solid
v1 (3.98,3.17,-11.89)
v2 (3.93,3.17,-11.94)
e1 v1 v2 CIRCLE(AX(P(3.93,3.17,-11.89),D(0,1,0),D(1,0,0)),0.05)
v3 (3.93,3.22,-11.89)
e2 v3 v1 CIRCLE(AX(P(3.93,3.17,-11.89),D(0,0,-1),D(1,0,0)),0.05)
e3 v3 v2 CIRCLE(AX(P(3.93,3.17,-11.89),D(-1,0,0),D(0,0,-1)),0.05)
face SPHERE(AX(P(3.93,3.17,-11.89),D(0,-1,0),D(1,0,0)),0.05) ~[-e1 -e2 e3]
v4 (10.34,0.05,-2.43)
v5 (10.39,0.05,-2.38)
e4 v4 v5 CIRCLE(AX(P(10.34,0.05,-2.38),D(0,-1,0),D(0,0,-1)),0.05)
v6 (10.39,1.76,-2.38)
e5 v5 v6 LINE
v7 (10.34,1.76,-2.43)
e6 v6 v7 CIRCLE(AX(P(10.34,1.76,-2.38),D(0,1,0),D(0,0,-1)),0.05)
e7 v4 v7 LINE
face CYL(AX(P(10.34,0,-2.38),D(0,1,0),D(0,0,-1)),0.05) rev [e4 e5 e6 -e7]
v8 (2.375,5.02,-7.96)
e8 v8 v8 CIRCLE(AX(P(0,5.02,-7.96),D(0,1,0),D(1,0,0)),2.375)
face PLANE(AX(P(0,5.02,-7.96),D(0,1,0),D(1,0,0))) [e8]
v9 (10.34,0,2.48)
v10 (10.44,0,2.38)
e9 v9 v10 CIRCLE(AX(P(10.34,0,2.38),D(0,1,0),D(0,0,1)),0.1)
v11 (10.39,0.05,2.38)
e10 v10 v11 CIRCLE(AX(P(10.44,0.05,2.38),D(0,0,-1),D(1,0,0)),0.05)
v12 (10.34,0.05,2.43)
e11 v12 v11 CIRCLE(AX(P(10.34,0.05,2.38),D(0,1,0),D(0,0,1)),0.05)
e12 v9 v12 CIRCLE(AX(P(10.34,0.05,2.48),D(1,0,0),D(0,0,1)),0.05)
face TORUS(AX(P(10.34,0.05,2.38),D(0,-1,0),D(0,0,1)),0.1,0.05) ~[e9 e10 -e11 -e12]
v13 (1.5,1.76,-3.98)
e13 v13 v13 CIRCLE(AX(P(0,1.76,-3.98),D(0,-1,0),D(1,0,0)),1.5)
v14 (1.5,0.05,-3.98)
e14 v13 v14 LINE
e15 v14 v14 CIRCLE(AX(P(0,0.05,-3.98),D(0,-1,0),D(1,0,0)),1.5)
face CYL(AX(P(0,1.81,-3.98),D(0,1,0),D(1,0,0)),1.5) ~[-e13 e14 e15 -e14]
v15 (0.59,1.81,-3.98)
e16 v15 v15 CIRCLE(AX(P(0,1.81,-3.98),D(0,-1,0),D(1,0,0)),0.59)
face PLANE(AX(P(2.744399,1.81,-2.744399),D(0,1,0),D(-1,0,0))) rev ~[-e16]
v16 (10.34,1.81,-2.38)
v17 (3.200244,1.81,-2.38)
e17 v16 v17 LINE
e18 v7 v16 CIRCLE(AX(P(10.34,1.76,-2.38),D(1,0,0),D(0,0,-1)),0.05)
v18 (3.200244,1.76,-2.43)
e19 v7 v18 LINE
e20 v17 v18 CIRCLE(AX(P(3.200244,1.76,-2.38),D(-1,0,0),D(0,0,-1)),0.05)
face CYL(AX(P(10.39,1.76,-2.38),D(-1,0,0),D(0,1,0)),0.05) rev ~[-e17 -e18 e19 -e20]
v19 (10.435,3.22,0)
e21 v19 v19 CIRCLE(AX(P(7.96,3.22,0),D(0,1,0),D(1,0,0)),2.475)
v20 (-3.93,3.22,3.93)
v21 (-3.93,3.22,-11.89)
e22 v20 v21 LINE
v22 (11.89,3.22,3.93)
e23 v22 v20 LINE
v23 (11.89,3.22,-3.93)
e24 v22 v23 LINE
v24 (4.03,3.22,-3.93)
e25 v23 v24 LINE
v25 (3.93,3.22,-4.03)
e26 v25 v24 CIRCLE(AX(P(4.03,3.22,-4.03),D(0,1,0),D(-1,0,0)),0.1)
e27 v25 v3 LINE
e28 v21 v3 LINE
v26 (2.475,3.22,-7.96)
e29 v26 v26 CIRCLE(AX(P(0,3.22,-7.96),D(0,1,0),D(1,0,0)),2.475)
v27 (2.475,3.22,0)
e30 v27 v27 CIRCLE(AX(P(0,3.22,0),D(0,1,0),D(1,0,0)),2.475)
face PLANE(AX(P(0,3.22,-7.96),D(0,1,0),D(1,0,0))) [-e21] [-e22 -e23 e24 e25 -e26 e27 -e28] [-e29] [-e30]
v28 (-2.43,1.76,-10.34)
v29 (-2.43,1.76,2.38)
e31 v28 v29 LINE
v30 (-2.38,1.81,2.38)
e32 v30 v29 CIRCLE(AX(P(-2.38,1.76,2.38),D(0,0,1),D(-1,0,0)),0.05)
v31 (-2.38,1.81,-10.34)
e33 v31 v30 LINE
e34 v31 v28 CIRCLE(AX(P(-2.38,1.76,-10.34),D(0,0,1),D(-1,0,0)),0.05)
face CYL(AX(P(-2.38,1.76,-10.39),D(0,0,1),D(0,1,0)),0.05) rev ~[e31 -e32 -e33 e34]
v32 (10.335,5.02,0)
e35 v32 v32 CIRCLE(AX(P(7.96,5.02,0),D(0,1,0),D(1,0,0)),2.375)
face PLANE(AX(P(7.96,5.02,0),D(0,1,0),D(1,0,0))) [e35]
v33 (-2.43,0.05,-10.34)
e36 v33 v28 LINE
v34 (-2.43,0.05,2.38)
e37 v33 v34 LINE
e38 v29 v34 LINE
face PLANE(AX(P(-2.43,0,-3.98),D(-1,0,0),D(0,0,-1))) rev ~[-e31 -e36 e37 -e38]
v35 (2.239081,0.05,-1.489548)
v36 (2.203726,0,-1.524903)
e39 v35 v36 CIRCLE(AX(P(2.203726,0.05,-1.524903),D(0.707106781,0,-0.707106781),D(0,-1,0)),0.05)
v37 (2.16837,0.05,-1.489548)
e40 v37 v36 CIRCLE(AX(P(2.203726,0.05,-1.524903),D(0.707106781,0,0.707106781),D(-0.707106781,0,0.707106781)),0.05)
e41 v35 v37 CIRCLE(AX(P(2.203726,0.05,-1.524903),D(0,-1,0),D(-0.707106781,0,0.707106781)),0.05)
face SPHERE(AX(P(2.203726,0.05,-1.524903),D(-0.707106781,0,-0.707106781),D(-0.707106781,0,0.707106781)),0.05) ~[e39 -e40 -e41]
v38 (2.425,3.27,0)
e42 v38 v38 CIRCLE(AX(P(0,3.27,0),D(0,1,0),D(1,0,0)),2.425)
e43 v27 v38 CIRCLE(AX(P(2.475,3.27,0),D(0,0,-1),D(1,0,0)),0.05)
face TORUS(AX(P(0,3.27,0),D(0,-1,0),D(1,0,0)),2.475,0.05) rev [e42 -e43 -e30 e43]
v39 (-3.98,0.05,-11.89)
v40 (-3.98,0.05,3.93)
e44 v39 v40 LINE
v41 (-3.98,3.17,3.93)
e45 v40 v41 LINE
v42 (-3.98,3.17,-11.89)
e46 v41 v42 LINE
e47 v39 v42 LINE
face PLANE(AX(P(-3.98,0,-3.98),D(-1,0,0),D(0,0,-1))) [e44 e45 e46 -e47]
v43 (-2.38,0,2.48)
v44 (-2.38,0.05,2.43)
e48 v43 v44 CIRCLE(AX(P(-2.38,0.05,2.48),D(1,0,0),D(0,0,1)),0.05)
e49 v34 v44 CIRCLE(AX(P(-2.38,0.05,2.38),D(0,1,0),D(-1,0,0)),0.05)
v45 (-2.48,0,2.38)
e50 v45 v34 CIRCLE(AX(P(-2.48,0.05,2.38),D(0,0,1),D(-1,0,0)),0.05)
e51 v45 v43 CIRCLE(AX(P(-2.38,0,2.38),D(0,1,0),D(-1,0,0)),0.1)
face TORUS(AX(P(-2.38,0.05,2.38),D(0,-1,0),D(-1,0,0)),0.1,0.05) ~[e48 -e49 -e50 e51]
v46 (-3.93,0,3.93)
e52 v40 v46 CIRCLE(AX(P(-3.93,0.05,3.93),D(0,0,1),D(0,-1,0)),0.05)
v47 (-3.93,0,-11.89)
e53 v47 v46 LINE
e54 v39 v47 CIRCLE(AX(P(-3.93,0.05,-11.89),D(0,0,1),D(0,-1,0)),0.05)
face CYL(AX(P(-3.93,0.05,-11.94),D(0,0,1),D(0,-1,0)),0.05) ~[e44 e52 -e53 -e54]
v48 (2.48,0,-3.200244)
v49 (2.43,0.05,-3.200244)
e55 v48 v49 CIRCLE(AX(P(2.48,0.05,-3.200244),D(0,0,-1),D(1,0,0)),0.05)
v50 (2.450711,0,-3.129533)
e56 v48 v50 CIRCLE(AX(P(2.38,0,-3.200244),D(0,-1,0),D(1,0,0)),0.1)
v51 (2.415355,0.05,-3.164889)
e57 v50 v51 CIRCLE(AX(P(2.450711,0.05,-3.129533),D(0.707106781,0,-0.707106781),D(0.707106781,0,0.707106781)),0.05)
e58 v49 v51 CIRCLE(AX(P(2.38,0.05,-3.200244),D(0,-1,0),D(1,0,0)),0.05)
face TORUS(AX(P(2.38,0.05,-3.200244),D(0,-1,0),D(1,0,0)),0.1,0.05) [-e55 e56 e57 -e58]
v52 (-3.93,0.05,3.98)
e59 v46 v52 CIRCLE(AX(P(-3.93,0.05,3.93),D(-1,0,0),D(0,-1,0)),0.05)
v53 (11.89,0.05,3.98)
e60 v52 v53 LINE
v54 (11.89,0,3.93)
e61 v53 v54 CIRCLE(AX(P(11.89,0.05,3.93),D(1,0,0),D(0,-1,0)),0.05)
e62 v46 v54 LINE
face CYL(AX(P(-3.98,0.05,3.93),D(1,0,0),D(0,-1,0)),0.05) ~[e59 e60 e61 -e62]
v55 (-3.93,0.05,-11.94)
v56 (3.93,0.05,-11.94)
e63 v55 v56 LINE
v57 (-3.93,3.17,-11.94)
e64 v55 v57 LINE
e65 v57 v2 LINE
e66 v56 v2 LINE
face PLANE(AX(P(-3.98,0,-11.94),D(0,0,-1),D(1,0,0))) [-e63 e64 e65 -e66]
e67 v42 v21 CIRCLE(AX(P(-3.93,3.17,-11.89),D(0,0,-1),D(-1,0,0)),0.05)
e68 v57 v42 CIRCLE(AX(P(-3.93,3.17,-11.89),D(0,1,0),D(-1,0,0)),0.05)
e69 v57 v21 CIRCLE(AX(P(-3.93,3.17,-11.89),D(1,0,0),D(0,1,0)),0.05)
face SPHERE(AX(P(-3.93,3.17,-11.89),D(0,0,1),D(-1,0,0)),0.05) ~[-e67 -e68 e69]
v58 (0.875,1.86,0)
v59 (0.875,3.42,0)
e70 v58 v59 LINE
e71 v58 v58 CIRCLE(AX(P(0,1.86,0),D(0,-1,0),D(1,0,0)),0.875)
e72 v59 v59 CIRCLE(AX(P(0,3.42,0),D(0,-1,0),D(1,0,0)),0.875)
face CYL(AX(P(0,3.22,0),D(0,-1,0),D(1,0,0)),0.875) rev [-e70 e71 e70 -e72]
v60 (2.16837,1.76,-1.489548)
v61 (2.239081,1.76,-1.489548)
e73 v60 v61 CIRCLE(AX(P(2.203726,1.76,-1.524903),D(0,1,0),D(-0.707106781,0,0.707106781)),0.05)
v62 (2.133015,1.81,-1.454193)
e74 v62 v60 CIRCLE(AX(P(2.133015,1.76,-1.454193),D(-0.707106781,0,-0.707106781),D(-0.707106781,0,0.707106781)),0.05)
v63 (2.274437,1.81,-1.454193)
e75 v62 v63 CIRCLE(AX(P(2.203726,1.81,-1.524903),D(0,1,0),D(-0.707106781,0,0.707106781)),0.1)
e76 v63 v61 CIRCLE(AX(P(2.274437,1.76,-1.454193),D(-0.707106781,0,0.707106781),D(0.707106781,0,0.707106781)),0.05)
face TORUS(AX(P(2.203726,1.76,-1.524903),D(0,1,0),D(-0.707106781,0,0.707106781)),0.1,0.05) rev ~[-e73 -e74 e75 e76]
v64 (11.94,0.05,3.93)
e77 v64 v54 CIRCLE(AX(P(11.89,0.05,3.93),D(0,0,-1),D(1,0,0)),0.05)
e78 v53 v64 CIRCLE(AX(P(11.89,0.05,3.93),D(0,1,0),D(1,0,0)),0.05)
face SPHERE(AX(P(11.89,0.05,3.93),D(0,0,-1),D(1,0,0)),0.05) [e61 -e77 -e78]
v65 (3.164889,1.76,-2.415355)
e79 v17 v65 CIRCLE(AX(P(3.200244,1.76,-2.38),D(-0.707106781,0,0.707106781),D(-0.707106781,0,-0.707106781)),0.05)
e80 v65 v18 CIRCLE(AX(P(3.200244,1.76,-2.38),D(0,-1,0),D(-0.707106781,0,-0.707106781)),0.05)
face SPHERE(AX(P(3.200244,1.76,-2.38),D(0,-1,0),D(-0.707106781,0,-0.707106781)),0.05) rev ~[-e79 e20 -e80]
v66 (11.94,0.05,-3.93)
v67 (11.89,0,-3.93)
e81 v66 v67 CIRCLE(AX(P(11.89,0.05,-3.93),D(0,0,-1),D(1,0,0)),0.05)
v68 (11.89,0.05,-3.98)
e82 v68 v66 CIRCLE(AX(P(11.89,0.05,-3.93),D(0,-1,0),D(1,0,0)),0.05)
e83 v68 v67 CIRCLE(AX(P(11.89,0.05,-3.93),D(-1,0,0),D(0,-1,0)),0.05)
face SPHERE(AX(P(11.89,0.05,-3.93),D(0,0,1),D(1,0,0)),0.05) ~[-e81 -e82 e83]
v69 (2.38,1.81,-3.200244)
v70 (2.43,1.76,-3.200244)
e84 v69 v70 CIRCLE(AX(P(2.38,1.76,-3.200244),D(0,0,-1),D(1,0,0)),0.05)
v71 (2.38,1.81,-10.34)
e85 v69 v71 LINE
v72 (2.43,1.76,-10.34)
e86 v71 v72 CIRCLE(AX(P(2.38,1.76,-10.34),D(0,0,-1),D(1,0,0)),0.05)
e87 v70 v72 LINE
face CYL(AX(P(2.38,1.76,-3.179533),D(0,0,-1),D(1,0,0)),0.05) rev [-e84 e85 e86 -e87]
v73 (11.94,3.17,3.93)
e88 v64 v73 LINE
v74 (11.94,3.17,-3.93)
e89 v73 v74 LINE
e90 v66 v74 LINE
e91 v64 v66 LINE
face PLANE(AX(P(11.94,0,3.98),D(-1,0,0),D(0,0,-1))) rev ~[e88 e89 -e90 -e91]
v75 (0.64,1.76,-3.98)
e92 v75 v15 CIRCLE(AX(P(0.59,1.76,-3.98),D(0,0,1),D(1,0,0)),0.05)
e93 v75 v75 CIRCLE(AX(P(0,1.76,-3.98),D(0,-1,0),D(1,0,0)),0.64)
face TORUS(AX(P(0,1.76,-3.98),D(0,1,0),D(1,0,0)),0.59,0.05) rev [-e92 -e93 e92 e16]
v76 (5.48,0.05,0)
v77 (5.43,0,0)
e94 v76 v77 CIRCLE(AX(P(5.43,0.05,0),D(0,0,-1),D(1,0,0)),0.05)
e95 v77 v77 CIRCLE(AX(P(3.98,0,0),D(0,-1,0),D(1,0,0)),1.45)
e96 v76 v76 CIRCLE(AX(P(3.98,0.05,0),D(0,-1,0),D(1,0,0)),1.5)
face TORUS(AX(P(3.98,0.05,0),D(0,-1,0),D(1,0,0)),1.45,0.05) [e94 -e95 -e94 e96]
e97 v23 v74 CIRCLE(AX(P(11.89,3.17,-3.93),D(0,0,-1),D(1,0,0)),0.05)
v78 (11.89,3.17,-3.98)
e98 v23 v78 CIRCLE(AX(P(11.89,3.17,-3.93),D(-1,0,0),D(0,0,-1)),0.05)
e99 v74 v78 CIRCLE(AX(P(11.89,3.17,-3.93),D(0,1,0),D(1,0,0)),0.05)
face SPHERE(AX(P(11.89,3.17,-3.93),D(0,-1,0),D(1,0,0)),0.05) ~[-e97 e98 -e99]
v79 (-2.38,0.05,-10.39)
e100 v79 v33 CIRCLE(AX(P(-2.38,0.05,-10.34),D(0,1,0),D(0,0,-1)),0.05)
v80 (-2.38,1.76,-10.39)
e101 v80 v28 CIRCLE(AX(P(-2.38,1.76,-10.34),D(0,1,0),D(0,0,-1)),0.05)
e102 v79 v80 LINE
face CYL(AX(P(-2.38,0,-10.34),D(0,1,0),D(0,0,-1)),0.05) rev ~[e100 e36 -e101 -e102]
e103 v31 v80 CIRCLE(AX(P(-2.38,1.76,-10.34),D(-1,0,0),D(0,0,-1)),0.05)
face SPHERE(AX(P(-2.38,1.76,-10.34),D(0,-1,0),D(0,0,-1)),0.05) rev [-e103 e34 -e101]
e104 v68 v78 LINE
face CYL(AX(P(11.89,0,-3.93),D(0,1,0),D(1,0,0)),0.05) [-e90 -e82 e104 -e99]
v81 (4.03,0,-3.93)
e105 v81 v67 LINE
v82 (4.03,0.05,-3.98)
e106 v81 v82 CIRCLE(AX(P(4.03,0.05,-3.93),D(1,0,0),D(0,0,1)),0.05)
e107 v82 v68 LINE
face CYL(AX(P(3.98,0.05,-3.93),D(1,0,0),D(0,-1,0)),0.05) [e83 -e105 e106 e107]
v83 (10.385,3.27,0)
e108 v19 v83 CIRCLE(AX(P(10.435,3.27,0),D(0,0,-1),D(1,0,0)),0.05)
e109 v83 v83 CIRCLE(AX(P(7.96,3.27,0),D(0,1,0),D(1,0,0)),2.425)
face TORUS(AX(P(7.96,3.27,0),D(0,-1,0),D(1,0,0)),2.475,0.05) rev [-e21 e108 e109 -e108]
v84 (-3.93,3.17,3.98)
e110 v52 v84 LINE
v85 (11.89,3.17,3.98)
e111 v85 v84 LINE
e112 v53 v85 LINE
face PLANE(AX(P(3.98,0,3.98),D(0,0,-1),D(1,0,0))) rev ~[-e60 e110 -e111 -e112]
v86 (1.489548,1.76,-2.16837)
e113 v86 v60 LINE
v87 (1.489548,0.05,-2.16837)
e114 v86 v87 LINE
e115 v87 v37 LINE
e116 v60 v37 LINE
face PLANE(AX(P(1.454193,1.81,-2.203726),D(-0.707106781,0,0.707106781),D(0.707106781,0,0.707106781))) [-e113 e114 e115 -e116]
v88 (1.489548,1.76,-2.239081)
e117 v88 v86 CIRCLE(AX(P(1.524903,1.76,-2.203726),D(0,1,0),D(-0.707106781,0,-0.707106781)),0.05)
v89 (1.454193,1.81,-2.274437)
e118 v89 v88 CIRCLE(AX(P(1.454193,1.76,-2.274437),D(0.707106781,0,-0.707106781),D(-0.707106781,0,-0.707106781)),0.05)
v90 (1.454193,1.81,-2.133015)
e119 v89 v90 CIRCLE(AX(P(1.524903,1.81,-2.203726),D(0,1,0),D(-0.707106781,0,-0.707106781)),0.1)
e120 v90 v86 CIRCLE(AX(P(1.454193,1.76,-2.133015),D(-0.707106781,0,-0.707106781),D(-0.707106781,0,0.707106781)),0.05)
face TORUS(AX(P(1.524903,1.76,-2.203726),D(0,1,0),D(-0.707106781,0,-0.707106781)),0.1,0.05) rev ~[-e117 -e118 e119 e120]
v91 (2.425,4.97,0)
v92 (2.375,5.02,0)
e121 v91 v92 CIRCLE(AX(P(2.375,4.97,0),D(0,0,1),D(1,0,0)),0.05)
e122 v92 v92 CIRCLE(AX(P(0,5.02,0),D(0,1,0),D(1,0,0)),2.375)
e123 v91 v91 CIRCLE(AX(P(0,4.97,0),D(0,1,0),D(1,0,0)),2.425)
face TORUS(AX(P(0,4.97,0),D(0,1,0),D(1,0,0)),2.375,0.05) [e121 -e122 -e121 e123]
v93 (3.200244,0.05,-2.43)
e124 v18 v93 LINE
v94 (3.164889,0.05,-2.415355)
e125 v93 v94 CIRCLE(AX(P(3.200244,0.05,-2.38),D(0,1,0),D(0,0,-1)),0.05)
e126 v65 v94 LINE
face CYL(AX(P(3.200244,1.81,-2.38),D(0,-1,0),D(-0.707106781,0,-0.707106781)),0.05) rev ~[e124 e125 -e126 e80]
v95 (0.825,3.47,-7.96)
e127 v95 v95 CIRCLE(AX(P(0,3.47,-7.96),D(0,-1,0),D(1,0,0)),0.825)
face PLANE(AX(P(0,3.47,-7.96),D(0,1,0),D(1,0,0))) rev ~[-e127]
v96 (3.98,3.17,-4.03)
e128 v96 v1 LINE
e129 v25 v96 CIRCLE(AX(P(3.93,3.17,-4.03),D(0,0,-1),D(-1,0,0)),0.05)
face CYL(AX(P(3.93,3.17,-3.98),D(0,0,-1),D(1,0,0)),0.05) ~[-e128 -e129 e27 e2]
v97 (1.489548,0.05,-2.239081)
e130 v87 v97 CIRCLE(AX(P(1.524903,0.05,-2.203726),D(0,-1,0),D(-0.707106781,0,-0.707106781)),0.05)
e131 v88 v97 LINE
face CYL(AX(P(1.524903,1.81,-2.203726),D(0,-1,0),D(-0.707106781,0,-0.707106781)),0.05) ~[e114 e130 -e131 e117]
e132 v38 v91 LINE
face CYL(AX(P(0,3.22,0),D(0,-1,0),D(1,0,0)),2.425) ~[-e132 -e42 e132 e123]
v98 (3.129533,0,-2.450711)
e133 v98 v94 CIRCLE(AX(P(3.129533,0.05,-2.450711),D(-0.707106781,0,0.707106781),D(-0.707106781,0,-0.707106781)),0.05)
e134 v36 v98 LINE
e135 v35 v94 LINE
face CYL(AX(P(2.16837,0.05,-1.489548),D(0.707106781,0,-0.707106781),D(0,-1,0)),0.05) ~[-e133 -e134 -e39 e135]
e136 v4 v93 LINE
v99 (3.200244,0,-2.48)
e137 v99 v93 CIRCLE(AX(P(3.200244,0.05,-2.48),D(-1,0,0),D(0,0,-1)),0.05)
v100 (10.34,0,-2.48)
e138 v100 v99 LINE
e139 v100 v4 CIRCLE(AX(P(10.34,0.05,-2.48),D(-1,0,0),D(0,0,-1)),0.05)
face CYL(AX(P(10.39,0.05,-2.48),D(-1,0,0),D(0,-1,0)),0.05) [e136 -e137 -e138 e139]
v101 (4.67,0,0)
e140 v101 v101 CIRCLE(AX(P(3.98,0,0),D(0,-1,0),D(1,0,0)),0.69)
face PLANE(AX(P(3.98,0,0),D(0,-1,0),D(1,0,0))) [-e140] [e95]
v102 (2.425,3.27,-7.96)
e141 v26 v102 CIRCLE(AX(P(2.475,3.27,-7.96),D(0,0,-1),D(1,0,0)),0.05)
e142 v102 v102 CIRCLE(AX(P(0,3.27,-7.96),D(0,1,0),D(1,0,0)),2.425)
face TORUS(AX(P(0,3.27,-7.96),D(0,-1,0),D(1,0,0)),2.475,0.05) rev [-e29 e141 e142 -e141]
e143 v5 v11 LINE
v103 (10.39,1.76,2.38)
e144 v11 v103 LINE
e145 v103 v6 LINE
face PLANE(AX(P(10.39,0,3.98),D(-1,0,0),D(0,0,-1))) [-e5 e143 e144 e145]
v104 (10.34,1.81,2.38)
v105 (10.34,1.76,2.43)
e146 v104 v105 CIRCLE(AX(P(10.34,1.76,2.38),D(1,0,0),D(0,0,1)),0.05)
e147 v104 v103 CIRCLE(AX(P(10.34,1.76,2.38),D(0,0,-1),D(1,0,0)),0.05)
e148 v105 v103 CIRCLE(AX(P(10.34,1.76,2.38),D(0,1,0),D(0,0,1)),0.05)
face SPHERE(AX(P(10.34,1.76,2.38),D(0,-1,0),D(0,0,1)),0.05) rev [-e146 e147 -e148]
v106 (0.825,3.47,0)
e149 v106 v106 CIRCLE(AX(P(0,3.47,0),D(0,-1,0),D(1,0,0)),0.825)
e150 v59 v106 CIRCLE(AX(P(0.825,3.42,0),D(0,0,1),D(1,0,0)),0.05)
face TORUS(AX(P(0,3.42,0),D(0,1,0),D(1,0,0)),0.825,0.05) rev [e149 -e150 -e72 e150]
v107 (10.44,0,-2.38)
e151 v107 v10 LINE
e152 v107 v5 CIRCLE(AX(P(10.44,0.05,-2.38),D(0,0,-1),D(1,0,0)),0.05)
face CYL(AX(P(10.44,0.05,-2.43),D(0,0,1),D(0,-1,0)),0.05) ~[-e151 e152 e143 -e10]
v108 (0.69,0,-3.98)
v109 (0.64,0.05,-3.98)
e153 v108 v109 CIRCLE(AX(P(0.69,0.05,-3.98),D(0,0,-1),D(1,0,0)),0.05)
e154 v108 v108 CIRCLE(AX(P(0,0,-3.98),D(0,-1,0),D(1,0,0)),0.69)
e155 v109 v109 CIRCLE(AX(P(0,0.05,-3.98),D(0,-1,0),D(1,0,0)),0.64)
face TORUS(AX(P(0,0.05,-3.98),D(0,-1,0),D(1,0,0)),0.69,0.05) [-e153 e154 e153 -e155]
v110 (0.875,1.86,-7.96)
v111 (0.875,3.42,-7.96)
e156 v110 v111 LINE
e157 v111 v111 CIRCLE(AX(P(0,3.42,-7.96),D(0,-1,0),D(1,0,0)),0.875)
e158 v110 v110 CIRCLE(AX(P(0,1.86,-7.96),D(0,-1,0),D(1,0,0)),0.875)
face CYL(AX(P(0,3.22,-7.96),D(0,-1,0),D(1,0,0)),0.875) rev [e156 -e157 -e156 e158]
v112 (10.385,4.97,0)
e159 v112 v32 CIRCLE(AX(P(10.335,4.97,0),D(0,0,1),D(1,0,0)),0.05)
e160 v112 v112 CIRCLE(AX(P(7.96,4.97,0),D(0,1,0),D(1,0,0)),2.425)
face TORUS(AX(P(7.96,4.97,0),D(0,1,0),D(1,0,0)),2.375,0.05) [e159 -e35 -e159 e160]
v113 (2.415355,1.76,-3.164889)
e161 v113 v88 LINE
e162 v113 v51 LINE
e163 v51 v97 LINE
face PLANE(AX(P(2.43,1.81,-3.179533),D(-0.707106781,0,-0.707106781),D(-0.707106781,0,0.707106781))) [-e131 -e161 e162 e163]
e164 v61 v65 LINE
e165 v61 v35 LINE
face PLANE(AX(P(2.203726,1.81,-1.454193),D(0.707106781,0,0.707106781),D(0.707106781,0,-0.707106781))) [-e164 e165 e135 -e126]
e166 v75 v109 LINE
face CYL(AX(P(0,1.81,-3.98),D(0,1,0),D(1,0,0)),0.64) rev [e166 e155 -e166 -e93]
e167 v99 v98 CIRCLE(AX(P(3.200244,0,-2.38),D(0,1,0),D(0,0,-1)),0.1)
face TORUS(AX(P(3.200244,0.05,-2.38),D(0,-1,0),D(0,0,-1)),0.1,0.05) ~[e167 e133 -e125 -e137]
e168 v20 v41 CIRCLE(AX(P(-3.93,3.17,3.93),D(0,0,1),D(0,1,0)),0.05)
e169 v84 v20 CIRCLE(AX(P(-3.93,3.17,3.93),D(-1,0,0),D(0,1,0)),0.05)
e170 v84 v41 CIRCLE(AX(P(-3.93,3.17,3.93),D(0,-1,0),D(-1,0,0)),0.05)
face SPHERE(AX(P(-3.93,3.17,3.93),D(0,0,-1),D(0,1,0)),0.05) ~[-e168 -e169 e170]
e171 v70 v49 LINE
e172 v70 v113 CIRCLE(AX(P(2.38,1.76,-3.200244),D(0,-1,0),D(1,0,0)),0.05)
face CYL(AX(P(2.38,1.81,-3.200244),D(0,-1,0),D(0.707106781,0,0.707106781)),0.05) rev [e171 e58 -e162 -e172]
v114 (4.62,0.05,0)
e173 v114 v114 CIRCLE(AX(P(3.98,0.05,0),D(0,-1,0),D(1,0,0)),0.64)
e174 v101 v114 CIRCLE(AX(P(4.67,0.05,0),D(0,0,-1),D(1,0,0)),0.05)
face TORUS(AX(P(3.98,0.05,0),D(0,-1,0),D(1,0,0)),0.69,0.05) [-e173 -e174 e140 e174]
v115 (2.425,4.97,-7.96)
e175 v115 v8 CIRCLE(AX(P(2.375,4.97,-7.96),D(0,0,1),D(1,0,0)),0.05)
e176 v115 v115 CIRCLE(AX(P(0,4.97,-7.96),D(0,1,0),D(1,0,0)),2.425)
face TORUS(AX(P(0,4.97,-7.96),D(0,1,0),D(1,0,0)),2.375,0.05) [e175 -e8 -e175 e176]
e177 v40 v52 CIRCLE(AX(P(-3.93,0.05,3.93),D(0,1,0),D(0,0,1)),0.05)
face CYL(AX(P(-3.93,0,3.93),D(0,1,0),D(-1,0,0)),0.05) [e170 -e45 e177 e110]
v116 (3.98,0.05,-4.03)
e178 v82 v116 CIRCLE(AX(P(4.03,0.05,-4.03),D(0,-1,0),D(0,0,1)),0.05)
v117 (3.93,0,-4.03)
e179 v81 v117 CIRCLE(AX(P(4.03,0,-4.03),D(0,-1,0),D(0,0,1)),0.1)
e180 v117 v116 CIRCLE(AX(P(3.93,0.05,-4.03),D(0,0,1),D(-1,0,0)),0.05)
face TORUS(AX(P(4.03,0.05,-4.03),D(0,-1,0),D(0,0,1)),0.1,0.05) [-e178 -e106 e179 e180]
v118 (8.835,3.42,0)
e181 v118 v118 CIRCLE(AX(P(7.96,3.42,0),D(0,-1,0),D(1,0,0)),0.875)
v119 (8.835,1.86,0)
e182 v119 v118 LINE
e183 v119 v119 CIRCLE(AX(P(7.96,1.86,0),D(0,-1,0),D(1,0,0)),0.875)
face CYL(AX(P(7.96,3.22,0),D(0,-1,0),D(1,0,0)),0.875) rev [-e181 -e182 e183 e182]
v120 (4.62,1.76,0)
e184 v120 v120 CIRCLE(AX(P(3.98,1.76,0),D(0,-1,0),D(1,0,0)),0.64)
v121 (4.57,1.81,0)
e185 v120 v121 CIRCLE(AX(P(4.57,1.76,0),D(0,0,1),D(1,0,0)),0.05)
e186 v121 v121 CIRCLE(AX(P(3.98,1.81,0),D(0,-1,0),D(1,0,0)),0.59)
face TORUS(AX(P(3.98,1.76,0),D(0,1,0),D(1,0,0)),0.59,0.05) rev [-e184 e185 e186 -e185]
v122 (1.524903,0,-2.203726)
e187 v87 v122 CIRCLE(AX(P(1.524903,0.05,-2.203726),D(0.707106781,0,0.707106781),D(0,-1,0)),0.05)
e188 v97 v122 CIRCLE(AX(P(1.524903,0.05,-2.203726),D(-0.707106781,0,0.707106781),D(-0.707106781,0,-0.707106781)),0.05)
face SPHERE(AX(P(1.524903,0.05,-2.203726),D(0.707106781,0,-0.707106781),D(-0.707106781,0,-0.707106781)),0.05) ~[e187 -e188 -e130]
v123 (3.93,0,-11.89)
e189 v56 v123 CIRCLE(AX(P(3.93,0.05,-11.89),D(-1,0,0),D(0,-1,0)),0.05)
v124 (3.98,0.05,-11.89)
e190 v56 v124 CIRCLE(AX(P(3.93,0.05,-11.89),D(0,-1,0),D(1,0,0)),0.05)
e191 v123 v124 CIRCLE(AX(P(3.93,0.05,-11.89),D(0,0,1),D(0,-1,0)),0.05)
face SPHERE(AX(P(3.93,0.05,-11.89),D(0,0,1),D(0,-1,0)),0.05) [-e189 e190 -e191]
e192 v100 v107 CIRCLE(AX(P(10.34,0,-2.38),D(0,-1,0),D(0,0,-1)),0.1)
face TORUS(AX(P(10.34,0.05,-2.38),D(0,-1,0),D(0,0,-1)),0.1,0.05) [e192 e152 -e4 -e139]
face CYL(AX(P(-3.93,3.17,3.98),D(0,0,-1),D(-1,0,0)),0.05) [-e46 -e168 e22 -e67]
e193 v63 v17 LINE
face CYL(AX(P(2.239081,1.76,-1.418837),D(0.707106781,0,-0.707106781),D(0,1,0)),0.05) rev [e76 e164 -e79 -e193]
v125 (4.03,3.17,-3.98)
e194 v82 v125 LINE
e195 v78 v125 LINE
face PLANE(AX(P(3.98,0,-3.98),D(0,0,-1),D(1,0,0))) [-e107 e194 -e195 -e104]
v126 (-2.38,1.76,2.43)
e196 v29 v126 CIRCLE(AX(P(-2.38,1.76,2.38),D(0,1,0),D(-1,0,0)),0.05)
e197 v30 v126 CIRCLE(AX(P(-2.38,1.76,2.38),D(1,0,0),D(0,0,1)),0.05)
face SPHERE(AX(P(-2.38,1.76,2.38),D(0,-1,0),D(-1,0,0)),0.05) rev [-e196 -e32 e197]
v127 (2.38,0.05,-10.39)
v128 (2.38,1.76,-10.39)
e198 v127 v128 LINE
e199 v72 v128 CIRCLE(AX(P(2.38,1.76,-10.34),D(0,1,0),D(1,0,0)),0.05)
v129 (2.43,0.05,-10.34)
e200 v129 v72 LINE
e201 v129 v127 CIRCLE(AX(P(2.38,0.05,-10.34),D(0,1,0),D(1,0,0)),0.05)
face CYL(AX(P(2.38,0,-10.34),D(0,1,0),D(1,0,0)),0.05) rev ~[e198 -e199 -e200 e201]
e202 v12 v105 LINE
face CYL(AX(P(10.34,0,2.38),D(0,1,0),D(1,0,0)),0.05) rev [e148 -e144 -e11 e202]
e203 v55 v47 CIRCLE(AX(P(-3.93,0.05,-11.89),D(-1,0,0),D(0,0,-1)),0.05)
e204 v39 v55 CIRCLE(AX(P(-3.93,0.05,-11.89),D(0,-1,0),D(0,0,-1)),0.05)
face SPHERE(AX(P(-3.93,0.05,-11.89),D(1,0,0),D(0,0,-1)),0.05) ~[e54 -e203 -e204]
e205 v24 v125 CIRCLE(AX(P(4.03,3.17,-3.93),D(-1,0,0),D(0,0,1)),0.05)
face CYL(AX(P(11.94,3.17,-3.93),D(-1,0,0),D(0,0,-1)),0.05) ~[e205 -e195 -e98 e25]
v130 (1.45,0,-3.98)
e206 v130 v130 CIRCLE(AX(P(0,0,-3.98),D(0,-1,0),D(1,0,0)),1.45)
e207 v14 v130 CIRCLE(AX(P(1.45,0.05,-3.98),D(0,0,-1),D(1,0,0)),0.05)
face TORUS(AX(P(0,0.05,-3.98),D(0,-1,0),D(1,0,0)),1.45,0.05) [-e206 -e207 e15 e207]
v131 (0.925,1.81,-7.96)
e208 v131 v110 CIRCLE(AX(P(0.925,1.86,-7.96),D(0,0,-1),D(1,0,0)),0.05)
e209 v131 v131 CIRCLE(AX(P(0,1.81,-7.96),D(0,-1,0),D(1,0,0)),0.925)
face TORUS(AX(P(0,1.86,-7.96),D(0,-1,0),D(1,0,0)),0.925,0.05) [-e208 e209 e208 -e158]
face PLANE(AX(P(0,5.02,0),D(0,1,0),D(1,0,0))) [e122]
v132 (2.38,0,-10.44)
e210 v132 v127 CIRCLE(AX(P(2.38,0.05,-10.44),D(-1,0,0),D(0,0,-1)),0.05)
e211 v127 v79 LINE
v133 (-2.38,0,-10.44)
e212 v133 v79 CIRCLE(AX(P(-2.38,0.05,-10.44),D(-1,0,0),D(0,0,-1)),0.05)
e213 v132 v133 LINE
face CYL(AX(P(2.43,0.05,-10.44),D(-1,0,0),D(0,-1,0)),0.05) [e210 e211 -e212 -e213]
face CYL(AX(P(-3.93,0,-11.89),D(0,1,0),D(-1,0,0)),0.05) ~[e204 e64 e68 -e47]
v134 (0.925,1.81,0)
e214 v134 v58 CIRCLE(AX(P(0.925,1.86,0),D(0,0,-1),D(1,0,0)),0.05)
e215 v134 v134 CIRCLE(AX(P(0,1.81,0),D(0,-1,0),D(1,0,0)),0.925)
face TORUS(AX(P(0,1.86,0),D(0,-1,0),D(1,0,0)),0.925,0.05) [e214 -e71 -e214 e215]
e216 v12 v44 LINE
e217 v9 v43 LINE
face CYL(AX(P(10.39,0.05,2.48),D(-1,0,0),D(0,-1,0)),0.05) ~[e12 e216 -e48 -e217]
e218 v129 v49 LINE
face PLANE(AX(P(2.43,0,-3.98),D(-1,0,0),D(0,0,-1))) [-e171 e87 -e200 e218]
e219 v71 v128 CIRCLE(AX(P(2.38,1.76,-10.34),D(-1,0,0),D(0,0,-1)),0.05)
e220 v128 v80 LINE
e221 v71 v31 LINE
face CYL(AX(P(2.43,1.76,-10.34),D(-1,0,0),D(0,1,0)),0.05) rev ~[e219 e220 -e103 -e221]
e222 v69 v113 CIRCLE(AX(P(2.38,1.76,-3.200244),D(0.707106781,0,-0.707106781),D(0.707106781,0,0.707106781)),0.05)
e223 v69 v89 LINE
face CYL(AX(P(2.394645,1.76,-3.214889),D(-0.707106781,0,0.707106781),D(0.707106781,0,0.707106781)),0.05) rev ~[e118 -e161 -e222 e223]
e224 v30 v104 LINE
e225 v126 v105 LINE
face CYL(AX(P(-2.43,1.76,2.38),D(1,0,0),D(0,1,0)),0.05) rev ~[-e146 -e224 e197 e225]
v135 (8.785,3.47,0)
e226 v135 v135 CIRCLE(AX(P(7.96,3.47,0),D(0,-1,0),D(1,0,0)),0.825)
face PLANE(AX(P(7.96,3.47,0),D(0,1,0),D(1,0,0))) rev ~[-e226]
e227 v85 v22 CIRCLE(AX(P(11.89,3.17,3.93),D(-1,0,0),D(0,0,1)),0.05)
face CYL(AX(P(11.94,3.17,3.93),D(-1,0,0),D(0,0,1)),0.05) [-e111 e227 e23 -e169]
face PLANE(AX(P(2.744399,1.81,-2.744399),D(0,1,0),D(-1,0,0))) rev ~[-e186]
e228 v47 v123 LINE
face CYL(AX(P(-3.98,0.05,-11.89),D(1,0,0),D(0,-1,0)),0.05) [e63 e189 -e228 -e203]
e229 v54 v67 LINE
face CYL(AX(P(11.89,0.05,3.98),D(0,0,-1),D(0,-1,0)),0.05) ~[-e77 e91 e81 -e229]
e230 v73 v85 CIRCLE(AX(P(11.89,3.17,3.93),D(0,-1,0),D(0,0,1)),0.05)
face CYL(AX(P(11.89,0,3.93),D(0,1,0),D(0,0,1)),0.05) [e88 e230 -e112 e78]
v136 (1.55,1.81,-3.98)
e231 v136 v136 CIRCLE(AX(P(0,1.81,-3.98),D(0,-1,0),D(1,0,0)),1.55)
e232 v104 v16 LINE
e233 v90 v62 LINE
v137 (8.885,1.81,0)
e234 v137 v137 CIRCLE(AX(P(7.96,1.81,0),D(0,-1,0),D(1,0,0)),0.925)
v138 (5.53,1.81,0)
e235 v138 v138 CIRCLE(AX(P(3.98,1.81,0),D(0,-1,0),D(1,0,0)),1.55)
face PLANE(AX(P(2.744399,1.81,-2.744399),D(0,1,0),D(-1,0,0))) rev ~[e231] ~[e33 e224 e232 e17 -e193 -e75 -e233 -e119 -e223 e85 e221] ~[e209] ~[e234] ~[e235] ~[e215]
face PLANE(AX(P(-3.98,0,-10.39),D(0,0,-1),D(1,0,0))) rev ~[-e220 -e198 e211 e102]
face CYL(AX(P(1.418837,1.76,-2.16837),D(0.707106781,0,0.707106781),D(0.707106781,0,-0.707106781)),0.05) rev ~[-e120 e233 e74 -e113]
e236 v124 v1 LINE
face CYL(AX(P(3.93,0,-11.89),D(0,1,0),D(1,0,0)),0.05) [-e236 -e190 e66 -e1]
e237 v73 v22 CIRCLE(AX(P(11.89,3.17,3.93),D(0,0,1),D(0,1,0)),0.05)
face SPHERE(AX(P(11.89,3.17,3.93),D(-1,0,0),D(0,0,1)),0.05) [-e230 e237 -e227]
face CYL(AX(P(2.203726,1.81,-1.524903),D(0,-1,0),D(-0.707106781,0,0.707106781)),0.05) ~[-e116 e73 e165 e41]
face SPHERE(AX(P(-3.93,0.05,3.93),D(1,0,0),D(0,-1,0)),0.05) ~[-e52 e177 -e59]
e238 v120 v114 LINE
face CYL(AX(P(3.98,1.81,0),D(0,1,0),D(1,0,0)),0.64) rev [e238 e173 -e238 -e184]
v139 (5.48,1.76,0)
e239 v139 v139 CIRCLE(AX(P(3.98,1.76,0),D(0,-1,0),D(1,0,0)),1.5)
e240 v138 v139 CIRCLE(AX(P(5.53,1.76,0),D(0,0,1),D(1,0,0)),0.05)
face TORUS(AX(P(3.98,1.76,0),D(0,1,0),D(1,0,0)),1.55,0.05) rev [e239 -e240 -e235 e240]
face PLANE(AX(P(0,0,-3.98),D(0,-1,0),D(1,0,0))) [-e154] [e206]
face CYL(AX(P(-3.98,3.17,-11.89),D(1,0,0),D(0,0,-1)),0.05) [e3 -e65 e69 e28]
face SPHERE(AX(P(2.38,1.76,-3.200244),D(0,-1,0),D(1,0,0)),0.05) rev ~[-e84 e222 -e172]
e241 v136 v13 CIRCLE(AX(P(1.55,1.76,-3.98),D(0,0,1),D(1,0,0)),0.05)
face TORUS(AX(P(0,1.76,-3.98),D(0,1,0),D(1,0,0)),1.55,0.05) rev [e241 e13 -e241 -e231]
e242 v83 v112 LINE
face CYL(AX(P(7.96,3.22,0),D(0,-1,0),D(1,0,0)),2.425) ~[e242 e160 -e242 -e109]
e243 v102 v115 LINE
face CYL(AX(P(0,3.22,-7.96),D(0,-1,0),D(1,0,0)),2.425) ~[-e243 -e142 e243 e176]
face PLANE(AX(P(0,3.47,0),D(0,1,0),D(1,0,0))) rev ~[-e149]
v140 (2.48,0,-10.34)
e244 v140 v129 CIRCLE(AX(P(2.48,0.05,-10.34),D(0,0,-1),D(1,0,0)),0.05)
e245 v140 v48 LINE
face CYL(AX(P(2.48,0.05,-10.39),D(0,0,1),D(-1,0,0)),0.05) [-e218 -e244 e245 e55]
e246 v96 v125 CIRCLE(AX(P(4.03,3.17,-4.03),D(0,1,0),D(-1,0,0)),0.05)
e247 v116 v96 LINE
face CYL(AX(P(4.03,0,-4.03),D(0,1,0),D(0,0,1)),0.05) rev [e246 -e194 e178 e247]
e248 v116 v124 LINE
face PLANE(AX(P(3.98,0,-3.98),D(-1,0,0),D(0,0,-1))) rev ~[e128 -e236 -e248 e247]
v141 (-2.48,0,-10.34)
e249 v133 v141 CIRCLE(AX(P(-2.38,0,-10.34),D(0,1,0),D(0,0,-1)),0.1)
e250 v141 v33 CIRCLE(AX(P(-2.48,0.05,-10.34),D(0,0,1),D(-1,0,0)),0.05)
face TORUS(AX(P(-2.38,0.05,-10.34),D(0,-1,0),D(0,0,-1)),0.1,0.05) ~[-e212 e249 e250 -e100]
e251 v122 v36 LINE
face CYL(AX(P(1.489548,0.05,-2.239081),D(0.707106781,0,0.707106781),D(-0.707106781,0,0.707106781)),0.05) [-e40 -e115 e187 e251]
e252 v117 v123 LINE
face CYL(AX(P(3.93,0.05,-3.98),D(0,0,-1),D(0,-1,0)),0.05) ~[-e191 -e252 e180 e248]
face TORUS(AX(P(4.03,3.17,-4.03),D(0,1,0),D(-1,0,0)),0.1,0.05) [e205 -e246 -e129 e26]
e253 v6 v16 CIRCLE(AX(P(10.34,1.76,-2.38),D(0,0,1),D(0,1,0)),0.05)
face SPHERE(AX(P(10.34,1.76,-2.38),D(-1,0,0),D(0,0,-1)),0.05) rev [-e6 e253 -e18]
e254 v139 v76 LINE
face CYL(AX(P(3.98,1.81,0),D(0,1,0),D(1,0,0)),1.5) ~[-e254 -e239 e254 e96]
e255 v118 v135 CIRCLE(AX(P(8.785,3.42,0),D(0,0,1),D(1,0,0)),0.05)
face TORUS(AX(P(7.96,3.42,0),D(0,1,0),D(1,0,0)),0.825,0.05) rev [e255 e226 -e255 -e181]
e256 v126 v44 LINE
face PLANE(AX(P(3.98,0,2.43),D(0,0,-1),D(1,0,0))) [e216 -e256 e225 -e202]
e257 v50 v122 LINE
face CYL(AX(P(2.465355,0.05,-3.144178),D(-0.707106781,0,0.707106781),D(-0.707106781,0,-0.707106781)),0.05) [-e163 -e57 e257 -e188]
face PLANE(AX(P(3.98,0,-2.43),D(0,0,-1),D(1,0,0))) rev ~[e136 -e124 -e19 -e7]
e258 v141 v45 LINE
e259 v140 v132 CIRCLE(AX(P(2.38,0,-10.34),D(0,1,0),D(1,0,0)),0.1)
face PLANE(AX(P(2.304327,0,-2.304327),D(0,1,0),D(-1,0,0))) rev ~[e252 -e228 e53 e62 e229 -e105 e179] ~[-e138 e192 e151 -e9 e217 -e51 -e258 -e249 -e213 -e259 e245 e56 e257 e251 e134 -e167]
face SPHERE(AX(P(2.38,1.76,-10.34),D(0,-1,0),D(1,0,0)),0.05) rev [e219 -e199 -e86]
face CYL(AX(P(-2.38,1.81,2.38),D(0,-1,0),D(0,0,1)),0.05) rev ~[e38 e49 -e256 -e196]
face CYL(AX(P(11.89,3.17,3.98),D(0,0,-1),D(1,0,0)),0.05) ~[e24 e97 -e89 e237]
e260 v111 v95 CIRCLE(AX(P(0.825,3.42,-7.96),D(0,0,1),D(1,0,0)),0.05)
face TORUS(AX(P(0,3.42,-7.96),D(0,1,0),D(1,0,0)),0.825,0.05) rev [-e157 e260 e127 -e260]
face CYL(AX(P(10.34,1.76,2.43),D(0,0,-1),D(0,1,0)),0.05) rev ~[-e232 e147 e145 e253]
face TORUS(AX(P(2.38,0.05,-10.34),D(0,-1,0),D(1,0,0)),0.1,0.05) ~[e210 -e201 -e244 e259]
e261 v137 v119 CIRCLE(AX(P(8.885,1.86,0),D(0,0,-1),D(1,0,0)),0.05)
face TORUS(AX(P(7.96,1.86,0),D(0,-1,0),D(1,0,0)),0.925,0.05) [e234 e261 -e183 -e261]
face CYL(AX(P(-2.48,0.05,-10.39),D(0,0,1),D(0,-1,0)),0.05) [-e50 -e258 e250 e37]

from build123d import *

# Parameters (mm, degrees)
SKETCH1_W       = 7.96
SKETCH1_H       = 7.96
EXTRUDE1_DEPTH  = 3.22
SKETCH2_R       = 2.425
EXTRUDE2_DEPTH  = 1.8
LPATTERN1_COUNT = 2
LPATTERN1_PITCH = 7.96
LPATTERN2_COUNT = 2
LPATTERN2_PITCH = 7.96
SHELL1_T        = -1.55
EXTRUDE3_DEPTH  = 0.14
SKETCH5_R       = 1.5
SKETCH5_R_2     = 0.64
EXTRUDE4_DEPTH  = 1.81
EXTRUDE5_DEPTH  = 1.81
FILLET1_R       = 0.05


with BuildPart() as part:
    # Sketch1 → Extrude1 (new body)
    with BuildSketch(Plane(origin=(0, 0, 0), x_dir=(1, 0, 0), z_dir=(0, 1, 0))):
        Rectangle(SKETCH1_W, SKETCH1_H)
    extrude1 = extrude(amount=EXTRUDE1_DEPTH)

    # Sketch2 → Extrude2 (add)
    with BuildSketch(Plane(origin=(0, 3.22, 0), x_dir=(1, 0, 0), z_dir=(0, 1, 0))):
        Circle(SKETCH2_R)
    extrude2 = extrude(amount=EXTRUDE2_DEPTH)

    # LPattern1: Extrude1, Extrude2 ×2
    with Locations(*[(i * LPATTERN1_PITCH, 0, 0) for i in range(1, LPATTERN1_COUNT)]):
        add(extrude1)
        add(extrude2)

    # LPattern2: Extrude1, Extrude2 ×2
    with Locations(*[(0, 0, -i * LPATTERN2_PITCH) for i in range(1, LPATTERN2_COUNT)]):
        add(extrude1)
        add(extrude2)

    # Shell1
    shell1_openings = [part.faces().sort_by_distance(p)[0] for p in [
        (4.643333333, 0, -3.316666667),
    ]]
    offset(amount=SHELL1_T, openings=shell1_openings, kind=Kind.INTERSECTION)

    # Sketch4 → Extrude3 (cut)
    with BuildSketch(Plane.XZ.offset(-1.67)):
        Polygon((2.43, -10.39), (-2.43, -10.39), (-2.43, 2.43), (10.39, 2.43), (10.39, -2.43), (2.43, -2.43), align=None)
    extrude(amount=-EXTRUDE3_DEPTH, mode=Mode.SUBTRACT)

    # Sketch5 → Extrude4 (add)
    with BuildSketch(Plane.XZ.offset(-1.81)):
        with Locations((0, -3.98)):
            Circle(SKETCH5_R)
        with Locations((0, -3.98)):
            Circle(SKETCH5_R_2, mode=Mode.SUBTRACT)
        with Locations((3.98, 0)):
            Circle(SKETCH5_R)
        with Locations((3.98, 0)):
            Circle(SKETCH5_R_2, mode=Mode.SUBTRACT)
    extrude(amount=EXTRUDE4_DEPTH)

    # Sketch6 → Extrude5 (add)
    with BuildSketch(Plane.XZ.offset(-1.81)):
        Polygon((2.43, -3.179533188), (1.454192642, -2.20372583), (2.20372583, -1.454192642), (3.179533188, -2.43), (2.43, -2.43), align=None)
    extrude(amount=EXTRUDE5_DEPTH)

    # Fillet1
    fillet1_edges = [part.edges().sort_by_distance(p)[0] for p in [
        (-3.98, 3.22, -3.98),
        (2.48, 1.81, 0),
        (3.34, 1.81, 0),
        (2.48, 0, 0),
        (3.34, 0, 0),
        (2.43, 0, -6.784766594),
        (6.784766594, 1.81, -2.43),
        (1.942096321, 0, -2.691629509),
        (1.454192642, 0.905, -2.20372583),
        (1.942096321, 1.81, -2.691629509),
        (1.828959236, 0, -1.828959236),
        (2.20372583, 0.905, -1.454192642),
        (1.828959236, 1.81, -1.828959236),
        (2.691629509, 0, -1.942096321),
        (3.179533188, 0.905, -2.43),
        (2.691629509, 1.81, -1.942096321),
        (2.43, 0.905, -3.179533188),
        (3.98, 3.22, 3.98),
        (-2.425, 3.22, 0),
        (-2.425, 5.02, 0),
        (11.94, 0, 0),
        (11.94, 1.61, 3.98),
        (11.94, 1.61, -3.98),
        (11.94, 3.22, 0),
        (5.535, 3.22, 0),
        (5.535, 5.02, 0),
        (3.98, 0, -7.96),
        (3.98, 1.61, -3.98),
        (0, 0, -11.94),
        (3.98, 1.61, -11.94),
        (-3.98, 1.61, -11.94),
        (3.98, 3.22, -7.96),
        (0, 3.22, -11.94),
        (3.98, 0, 3.98),
        (-2.425, 3.22, -7.96),
        (-2.425, 5.02, -7.96),
        (-3.98, 0, -3.98),
        (10.39, 0.905, -2.43),
        (6.784766594, 0, -2.43),
        (-2.43, 0, -3.98),
        (-2.43, 0.905, -10.39),
        (3.98, 0, 2.43),
        (-2.43, 0.905, 2.43),
        (7.96, 0, -3.98),
        (-0.875, 3.47, 0),
        (10.39, 0, 0),
        (10.39, 0.905, 2.43),
        (7.085, 3.47, 0),
        (0, 0, -10.39),
        (2.43, 0.905, -10.39),
        (-0.875, 3.47, -7.96),
        (7.96, 3.22, -3.98),
        (-0.875, 1.81, 0),
        (7.085, 1.81, 0),
        (-0.875, 1.81, -7.96),
        (2.43, 1.81, -6.784766594),
        (0, 1.81, -10.39),
        (-2.43, 1.81, -3.98),
        (3.98, 1.81, 2.43),
        (10.39, 1.81, 0),
        (-3.98, 1.61, 3.98),
        (-1.5, 1.81, -3.98),
        (-0.64, 1.81, -3.98),
        (-1.5, 0, -3.98),
        (-0.64, 0, -3.98),
    ]]
    fillet(fillet1_edges, radius=FILLET1_R)


solid = part.part
